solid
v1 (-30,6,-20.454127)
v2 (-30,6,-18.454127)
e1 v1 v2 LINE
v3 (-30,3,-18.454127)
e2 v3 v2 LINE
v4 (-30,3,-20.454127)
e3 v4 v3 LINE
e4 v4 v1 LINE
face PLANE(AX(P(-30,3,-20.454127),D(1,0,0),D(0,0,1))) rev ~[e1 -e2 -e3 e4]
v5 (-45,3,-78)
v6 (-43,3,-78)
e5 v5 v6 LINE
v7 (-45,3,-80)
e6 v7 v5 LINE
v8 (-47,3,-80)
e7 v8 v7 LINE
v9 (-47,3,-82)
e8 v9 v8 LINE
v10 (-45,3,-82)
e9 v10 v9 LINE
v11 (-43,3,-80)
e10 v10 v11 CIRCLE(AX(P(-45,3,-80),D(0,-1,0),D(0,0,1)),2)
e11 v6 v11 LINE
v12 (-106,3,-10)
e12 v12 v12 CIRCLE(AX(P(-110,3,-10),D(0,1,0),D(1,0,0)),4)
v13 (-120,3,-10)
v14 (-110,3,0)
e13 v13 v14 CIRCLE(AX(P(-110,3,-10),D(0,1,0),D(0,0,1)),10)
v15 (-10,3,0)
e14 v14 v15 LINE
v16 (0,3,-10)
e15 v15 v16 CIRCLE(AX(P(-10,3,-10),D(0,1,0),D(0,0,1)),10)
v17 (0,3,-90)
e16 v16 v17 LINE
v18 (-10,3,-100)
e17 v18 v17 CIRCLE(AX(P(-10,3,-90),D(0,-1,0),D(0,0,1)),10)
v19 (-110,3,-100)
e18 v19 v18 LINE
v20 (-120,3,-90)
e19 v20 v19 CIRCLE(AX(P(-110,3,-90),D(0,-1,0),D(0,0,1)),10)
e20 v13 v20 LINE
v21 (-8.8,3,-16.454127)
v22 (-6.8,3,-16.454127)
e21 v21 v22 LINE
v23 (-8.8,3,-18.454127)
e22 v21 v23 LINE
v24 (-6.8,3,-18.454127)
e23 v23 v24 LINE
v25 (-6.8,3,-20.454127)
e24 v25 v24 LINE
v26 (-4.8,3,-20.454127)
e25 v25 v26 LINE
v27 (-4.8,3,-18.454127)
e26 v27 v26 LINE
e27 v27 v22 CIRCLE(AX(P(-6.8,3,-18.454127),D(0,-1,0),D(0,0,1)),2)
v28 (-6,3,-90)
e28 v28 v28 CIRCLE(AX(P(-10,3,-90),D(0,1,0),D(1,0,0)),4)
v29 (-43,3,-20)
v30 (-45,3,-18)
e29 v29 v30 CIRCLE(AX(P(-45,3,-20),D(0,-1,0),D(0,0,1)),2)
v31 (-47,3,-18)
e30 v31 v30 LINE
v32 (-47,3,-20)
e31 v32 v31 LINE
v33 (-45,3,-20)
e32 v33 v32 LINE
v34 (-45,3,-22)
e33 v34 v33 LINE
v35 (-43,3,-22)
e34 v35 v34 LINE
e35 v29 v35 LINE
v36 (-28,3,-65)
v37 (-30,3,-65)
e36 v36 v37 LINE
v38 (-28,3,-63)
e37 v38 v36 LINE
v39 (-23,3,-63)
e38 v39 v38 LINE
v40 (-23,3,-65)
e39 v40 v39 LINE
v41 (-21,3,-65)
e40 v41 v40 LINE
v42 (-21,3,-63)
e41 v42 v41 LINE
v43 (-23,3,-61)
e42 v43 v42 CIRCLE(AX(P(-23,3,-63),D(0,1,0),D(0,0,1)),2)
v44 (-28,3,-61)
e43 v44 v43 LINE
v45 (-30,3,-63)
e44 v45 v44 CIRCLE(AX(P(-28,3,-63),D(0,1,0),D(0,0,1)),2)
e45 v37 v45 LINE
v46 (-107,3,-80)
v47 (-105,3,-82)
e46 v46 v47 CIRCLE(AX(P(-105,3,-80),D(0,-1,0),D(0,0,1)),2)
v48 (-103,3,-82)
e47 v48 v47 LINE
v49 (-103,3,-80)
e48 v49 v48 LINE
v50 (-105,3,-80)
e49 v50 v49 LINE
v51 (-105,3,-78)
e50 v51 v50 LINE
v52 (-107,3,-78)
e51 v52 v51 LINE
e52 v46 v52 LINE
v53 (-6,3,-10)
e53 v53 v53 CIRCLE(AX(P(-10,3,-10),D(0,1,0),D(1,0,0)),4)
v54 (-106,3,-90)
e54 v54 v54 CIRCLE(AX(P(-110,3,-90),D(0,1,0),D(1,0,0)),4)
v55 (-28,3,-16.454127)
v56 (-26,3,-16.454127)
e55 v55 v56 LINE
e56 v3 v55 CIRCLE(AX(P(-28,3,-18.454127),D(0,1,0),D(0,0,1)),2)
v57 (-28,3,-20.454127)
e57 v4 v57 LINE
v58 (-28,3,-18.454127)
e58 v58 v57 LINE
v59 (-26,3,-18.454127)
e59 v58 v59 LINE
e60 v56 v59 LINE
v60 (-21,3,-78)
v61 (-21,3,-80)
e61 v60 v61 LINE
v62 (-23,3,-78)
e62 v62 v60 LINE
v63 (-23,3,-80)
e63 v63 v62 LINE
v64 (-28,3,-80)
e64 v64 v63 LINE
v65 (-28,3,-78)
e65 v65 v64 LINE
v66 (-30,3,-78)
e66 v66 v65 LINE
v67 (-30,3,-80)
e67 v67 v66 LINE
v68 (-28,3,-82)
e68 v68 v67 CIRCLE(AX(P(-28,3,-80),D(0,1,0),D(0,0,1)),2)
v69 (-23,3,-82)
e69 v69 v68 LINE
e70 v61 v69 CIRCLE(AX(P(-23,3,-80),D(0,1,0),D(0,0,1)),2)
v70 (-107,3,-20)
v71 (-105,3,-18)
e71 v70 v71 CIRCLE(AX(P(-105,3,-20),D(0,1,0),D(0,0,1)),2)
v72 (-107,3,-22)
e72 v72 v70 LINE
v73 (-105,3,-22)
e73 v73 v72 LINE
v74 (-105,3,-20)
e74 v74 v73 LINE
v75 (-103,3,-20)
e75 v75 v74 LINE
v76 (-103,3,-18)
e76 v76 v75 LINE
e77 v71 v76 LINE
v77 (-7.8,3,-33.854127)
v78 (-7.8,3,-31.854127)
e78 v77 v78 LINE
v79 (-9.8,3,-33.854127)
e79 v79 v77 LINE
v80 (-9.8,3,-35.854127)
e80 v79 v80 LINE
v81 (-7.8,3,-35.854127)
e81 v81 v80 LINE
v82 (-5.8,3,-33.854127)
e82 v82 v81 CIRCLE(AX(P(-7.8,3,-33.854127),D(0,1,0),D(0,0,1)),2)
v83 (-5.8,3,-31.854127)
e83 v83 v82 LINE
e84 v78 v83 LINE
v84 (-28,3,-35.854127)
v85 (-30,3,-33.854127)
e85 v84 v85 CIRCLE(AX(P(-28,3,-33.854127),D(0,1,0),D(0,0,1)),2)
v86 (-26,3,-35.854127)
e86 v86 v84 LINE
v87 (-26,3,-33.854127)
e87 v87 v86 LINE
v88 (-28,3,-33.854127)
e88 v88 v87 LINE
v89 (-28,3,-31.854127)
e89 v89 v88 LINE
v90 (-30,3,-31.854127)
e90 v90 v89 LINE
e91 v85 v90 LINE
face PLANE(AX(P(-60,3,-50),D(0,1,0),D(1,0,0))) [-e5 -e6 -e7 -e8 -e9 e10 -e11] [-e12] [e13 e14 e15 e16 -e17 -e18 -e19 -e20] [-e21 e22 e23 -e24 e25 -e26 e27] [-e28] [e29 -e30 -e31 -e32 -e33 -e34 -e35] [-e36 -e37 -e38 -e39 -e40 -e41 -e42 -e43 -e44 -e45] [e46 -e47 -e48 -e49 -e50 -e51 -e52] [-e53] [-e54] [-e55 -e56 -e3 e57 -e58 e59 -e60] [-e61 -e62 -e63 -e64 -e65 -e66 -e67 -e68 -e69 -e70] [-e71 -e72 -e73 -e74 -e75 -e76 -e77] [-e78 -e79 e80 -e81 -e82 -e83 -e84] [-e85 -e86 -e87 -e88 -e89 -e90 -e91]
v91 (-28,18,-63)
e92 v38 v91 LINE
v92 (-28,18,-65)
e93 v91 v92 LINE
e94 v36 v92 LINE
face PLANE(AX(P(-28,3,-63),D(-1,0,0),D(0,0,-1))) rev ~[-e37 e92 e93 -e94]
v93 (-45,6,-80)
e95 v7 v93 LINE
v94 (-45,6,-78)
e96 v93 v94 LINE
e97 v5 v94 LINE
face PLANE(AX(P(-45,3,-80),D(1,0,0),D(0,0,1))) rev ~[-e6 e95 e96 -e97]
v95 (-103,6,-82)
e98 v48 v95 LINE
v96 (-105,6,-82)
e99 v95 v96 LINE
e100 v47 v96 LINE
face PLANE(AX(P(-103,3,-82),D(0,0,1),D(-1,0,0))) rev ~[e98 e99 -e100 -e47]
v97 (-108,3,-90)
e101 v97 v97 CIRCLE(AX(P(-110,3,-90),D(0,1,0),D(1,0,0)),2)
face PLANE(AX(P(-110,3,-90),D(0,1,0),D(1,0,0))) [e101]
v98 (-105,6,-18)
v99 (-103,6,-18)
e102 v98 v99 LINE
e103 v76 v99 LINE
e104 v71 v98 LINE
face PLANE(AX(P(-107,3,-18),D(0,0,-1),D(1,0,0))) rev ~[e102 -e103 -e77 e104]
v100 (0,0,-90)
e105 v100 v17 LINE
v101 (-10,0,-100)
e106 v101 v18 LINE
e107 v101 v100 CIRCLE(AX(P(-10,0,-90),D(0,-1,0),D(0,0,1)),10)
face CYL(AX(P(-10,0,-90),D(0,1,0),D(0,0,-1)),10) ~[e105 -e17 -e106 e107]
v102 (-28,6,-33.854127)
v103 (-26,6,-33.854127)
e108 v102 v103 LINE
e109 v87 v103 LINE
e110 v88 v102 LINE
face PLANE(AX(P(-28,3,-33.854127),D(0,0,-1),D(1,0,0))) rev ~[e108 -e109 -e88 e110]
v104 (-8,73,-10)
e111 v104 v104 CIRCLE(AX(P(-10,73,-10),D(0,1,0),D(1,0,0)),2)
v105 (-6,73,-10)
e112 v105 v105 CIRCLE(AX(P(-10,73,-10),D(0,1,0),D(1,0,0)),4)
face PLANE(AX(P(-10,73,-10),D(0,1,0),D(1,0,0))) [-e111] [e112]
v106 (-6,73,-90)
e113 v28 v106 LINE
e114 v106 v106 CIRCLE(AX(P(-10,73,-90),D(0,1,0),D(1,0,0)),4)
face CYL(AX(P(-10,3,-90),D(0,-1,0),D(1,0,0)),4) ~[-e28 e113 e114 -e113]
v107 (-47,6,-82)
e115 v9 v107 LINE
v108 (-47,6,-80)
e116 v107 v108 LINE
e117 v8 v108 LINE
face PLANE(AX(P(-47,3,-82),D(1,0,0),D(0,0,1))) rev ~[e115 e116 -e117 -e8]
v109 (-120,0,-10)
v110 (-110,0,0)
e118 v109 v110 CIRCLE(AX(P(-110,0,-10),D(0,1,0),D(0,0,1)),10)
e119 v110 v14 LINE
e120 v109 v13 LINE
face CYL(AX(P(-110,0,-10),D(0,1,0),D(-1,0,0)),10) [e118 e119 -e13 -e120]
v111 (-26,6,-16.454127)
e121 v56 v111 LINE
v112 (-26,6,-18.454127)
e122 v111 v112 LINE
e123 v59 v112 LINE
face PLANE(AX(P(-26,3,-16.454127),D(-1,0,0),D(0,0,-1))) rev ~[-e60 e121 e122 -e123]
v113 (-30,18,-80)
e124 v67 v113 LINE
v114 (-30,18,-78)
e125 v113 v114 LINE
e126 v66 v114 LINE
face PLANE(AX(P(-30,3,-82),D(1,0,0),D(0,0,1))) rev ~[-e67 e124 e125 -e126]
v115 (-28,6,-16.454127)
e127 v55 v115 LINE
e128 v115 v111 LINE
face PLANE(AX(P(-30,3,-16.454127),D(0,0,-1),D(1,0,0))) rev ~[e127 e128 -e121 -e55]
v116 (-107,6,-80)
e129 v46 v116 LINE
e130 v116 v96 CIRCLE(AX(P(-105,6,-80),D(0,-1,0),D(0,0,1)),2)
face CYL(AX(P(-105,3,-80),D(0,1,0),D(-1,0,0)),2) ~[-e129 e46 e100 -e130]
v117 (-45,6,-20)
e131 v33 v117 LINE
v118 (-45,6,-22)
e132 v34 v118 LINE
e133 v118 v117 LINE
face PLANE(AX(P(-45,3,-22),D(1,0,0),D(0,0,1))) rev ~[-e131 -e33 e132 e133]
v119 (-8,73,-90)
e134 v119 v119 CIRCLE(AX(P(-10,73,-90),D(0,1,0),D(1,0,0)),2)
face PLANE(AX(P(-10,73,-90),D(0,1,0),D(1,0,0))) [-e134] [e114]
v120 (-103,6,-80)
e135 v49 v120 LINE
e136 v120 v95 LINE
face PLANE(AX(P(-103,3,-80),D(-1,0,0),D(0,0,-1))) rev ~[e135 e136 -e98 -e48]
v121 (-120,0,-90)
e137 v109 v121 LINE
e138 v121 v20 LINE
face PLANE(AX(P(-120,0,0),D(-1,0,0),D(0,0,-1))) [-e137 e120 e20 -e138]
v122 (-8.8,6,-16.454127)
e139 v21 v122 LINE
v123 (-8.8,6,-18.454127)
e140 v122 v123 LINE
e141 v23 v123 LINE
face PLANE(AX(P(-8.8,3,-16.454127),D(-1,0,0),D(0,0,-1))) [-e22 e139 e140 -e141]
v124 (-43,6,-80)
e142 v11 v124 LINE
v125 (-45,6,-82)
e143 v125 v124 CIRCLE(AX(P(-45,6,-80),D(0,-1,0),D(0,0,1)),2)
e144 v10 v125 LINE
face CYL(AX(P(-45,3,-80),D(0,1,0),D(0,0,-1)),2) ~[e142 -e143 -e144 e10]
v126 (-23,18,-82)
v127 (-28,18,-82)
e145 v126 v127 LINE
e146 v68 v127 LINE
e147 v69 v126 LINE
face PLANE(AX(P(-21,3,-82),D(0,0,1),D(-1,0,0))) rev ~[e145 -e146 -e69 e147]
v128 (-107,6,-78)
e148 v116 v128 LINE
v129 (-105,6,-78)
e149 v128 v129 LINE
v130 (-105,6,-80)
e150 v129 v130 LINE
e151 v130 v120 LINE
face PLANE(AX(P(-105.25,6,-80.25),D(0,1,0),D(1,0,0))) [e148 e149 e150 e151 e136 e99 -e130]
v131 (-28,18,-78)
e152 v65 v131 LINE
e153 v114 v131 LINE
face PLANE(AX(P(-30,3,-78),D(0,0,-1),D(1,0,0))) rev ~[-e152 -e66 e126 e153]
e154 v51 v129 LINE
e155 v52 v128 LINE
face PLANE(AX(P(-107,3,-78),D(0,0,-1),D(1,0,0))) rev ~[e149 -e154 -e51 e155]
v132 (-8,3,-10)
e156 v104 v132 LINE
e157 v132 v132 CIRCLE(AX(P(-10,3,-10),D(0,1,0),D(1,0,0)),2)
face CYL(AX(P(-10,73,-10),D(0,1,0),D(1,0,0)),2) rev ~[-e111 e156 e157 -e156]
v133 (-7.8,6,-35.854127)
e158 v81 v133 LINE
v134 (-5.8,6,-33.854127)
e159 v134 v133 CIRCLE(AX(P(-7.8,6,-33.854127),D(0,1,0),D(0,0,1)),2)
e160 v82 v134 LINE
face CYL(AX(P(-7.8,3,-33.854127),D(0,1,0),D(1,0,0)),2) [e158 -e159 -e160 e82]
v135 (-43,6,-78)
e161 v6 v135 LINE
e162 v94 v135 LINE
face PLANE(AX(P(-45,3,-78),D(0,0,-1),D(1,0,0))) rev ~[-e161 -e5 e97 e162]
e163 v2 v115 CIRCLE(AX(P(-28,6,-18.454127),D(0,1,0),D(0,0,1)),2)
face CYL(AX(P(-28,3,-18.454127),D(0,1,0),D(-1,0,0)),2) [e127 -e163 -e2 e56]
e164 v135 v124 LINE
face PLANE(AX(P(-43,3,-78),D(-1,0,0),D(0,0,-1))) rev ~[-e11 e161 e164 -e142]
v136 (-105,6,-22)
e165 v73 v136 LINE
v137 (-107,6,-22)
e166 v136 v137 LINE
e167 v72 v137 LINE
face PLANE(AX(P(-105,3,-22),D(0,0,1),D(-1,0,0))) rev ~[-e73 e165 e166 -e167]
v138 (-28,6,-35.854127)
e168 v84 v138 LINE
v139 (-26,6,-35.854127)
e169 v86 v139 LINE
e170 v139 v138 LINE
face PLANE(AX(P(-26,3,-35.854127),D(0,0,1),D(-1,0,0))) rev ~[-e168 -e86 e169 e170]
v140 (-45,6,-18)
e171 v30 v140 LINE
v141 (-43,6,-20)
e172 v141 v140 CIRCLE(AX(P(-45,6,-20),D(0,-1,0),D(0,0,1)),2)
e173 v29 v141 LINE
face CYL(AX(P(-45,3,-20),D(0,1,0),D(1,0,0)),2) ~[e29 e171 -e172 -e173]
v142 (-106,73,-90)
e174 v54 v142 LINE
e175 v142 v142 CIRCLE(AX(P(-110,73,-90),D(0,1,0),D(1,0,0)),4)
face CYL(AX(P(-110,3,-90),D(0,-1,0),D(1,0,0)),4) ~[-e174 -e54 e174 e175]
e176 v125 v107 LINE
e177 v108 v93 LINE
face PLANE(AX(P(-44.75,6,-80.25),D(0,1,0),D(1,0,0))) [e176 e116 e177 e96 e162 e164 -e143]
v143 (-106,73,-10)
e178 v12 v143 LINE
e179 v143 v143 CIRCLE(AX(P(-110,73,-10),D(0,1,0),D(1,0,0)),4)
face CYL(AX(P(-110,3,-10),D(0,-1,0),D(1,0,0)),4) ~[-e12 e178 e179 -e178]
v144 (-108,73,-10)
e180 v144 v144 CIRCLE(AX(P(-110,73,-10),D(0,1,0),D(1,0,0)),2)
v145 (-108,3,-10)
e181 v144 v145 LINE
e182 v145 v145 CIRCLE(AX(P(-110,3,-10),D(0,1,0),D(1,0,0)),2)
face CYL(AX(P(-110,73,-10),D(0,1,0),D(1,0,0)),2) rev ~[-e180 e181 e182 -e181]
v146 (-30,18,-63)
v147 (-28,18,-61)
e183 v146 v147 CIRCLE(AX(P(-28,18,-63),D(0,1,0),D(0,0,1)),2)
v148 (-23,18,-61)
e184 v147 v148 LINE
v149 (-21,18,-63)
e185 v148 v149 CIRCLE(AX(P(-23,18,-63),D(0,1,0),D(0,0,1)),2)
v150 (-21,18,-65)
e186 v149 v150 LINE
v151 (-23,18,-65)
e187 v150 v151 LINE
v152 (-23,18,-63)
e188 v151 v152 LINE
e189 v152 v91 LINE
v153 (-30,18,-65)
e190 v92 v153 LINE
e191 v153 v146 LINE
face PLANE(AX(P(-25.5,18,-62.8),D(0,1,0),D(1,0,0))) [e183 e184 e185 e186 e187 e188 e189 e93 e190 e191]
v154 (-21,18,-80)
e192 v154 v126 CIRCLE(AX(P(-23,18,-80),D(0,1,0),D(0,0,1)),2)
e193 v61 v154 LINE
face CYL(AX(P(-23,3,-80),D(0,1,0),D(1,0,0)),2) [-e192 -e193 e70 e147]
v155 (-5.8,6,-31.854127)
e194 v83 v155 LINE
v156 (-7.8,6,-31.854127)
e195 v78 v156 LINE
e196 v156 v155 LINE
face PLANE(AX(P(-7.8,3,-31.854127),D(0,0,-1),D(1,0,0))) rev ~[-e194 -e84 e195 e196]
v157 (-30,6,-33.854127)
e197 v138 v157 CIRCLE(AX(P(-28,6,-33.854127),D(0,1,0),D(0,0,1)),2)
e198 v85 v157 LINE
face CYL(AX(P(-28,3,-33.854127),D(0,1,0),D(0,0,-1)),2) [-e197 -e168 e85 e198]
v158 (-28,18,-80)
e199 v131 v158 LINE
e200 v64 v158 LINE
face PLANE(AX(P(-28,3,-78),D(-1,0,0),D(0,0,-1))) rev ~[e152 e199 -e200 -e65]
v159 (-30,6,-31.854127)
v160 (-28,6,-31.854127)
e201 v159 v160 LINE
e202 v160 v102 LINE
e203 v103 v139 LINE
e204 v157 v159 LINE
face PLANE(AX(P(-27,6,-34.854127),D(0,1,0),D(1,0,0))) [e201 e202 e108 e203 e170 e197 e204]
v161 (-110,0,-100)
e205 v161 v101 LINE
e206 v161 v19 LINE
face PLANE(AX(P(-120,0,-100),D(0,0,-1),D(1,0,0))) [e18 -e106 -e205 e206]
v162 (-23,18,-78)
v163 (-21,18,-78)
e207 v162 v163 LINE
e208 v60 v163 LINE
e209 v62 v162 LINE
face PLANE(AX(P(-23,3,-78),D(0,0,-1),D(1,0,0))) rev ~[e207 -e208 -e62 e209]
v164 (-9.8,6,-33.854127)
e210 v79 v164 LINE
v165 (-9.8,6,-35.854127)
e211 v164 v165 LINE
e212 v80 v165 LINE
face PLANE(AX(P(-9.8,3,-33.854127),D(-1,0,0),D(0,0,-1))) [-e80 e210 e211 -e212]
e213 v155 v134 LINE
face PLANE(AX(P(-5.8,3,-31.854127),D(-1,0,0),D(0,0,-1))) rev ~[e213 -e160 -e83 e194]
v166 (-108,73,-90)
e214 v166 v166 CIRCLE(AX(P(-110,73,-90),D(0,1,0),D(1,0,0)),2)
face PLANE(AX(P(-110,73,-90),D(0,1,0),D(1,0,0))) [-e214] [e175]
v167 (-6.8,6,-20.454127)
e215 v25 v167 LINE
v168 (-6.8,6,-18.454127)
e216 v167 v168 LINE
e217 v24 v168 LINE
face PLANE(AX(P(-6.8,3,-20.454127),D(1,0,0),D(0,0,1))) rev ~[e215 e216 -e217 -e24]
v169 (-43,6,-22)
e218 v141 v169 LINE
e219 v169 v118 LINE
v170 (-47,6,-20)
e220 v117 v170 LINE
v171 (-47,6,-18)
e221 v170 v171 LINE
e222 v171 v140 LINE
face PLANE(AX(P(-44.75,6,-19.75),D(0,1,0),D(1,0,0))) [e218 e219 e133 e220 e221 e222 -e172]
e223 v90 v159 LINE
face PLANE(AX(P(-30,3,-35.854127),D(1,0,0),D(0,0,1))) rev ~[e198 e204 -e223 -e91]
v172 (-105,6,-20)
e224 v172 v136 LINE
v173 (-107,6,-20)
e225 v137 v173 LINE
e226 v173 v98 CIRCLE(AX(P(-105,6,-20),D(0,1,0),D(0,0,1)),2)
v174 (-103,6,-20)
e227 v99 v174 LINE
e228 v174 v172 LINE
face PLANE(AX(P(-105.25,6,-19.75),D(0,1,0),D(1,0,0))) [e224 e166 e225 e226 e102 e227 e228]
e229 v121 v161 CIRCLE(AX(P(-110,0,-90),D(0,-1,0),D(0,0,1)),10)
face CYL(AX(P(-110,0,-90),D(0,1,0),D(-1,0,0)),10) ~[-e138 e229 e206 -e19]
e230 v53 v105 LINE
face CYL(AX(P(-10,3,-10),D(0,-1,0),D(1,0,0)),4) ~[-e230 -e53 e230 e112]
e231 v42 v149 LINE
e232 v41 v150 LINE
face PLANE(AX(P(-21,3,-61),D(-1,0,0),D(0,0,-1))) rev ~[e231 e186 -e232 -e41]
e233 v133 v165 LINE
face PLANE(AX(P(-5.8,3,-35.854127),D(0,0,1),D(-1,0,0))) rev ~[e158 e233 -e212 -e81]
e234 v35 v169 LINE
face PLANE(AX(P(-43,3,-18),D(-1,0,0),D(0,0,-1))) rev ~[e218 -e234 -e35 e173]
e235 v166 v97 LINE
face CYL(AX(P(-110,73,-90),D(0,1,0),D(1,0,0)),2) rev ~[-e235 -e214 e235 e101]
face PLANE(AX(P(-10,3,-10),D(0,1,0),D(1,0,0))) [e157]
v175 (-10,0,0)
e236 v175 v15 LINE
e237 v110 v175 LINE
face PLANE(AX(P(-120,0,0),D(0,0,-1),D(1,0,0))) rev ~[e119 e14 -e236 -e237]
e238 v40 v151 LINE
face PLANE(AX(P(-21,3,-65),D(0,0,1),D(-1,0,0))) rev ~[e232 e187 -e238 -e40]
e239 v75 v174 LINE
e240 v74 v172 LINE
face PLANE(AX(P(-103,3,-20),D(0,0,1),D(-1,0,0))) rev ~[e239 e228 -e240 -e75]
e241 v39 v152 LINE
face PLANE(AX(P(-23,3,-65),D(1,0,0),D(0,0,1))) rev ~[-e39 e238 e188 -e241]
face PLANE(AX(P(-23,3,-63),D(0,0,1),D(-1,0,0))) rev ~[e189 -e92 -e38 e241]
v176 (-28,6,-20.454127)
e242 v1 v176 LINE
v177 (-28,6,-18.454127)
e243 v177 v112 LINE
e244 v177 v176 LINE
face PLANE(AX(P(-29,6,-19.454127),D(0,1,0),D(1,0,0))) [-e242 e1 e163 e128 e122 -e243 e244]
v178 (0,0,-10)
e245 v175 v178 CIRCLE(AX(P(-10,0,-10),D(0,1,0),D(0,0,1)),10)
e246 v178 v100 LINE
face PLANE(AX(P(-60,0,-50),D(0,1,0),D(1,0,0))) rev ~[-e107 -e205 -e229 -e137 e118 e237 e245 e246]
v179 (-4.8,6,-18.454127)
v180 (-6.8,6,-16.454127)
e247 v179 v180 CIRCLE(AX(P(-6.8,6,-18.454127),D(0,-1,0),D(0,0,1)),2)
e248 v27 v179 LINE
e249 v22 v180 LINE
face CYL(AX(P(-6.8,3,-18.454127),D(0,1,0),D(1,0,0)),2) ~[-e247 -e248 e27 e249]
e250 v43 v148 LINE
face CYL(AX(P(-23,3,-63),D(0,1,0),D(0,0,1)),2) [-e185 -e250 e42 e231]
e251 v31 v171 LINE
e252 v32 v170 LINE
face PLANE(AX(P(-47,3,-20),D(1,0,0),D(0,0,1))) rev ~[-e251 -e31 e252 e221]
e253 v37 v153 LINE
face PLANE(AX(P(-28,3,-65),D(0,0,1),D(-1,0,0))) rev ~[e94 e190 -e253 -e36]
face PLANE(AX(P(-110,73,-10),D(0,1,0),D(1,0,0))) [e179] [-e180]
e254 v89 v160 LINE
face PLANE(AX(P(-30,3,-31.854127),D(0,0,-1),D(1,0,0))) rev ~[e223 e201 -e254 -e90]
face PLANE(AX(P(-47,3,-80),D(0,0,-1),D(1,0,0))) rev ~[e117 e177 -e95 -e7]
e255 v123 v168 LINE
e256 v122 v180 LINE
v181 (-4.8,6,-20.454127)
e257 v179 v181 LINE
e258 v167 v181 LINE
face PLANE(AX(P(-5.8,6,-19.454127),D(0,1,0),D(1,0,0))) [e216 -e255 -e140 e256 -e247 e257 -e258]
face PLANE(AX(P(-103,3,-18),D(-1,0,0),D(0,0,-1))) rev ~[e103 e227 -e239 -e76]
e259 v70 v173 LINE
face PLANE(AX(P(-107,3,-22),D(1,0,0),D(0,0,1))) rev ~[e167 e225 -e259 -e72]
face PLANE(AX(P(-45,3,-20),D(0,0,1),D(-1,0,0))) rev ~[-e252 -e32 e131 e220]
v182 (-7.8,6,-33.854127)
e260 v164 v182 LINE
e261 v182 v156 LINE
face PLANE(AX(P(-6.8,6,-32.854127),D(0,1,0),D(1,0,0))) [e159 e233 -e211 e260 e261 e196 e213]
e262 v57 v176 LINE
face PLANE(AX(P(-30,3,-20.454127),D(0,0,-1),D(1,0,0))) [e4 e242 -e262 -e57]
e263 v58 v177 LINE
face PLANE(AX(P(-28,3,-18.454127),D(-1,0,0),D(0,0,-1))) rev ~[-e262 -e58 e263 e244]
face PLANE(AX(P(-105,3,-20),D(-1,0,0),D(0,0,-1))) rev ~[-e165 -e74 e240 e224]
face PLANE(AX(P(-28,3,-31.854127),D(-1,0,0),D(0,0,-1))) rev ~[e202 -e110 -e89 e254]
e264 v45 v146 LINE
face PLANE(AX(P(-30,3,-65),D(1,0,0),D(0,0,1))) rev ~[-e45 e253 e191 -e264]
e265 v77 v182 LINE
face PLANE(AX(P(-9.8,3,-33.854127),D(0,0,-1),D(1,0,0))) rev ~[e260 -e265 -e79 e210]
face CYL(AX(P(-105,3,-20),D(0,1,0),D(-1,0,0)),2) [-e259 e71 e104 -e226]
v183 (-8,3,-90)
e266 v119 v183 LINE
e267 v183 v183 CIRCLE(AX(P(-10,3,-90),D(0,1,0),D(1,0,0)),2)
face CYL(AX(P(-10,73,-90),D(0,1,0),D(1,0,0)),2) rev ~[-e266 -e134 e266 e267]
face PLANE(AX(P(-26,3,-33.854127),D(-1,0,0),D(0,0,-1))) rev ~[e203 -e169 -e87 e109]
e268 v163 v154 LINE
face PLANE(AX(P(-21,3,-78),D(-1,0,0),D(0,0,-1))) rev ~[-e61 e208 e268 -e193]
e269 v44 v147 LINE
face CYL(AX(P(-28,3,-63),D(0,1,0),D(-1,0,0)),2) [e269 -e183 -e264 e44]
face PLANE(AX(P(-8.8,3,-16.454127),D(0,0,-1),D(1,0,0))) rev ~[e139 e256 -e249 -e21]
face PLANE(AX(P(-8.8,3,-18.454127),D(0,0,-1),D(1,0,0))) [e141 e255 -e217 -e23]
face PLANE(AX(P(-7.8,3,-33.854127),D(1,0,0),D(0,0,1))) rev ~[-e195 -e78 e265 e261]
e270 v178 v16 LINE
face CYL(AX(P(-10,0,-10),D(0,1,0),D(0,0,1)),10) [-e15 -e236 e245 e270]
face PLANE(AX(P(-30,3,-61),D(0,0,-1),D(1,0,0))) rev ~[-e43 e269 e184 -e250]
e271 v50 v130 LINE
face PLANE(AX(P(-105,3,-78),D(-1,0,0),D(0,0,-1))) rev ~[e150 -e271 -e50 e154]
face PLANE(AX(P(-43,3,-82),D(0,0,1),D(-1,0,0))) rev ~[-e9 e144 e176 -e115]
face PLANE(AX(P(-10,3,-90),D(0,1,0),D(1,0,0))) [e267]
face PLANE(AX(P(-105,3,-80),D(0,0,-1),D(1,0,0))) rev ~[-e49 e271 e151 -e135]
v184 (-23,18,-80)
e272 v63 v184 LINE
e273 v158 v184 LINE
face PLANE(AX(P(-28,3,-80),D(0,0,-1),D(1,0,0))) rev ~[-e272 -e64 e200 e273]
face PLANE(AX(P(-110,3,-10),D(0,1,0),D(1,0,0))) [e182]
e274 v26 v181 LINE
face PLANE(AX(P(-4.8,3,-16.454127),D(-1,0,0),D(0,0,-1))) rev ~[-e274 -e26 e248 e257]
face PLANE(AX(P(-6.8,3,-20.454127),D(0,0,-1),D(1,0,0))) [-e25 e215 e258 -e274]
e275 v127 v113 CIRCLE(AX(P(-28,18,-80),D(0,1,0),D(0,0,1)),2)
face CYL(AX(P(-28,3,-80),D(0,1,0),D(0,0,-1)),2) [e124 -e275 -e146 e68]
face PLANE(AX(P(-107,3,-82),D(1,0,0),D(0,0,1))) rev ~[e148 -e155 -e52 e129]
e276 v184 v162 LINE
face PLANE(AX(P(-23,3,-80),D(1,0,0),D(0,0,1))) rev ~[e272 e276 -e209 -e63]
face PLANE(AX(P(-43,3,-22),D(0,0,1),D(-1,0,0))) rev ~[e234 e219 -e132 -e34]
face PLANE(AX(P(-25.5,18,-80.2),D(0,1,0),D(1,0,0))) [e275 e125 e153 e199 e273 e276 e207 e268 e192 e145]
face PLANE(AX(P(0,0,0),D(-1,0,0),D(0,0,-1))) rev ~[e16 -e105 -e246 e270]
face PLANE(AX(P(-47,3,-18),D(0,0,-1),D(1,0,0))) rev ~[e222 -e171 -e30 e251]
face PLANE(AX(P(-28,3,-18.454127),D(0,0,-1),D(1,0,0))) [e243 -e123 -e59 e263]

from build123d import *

# Parameters (mm, degrees)
ESQUISSE1_W             = 120
ESQUISSE1_H             = 100
BOSS_EXTRU_1_DEPTH      = 3
ESQUISSE2_W             = 2
ESQUISSE2_H             = 2
BOSS_EXTRU_2_DEPTH      = 3
ESQUISSE4_R             = 4
BOSS_EXTRU_4_DEPTH      = 70
ESQUISSE5_R             = 2
ENL_V_MAT_EXTRU_1_DEPTH = 70
CONG_1_R                = 10
BOSS_EXTRU_6_DEPTH      = 15
CONG_2_R                = 2


with BuildPart() as part:
    # Esquisse1 → Boss.-Extru.1 (new body)
    with BuildSketch(Plane(origin=(0, 0, 0), x_dir=(1, 0, 0), z_dir=(0, 1, 0))):
        with Locations((-60, 50)):
            Rectangle(ESQUISSE1_W, ESQUISSE1_H)
    extrude(amount=BOSS_EXTRU_1_DEPTH)

    # Esquisse2 → Boss.-Extru.2 (add)
    with BuildSketch(Plane(origin=(0, 3, 0), x_dir=(1, 0, 0), z_dir=(0, 1, 0))):
        Polygon((-105, 78), (-105, 80), (-103, 80), (-103, 82), (-107, 82), (-107, 78), align=None)
        Polygon((-105, 20), (-105, 22), (-107, 22), (-107, 18), (-103, 18), (-103, 20), align=None)
        Polygon((-43, 22), (-45, 22), (-45, 20), (-47, 20), (-47, 18), (-43, 18), align=None)
        Polygon((-47, 82), (-47, 80), (-45, 80), (-45, 78), (-43, 78), (-43, 82), align=None)
        with Locations((-6.8, 32.854127418)):
            Rectangle(ESQUISSE2_W, ESQUISSE2_H)
        with Locations((-6.8, 34.854127418)):
            Rectangle(ESQUISSE2_W, ESQUISSE2_H)
        with Locations((-8.8, 34.854127418)):
            Rectangle(ESQUISSE2_W, ESQUISSE2_H)
        with Locations((-27, 34.854127418)):
            Rectangle(ESQUISSE2_W, ESQUISSE2_H)
        with Locations((-29, 34.854127418)):
            Rectangle(ESQUISSE2_W, ESQUISSE2_H)
        with Locations((-29, 32.854127418)):
            Rectangle(ESQUISSE2_W, ESQUISSE2_H)
        with Locations((-29, 19.454127418)):
            Rectangle(ESQUISSE2_W, ESQUISSE2_H)
        with Locations((-29, 17.454127418)):
            Rectangle(ESQUISSE2_W, ESQUISSE2_H)
        with Locations((-27, 17.454127418)):
            Rectangle(ESQUISSE2_W, ESQUISSE2_H)
        with Locations((-5.8, 19.454127418)):
            Rectangle(ESQUISSE2_W, ESQUISSE2_H)
        with Locations((-5.8, 17.454127418)):
            Rectangle(ESQUISSE2_W, ESQUISSE2_H)
        with Locations((-7.8, 17.454127418)):
            Rectangle(ESQUISSE2_W, ESQUISSE2_H)
    extrude(amount=BOSS_EXTRU_2_DEPTH)

    # Esquisse4 → Boss.-Extru.4 (add)
    with BuildSketch(Plane(origin=(0, 3, 0), x_dir=(1, 0, 0), z_dir=(0, 1, 0))):
        with Locations((-10, 90)):
            Circle(ESQUISSE4_R)
        with Locations((-110, 90)):
            Circle(ESQUISSE4_R)
        with Locations((-110, 10)):
            Circle(ESQUISSE4_R)
        with Locations((-10, 10)):
            Circle(ESQUISSE4_R)
    extrude(amount=BOSS_EXTRU_4_DEPTH)

    # Esquisse5 → Enlèv. mat.-Extru.1 (cut)
    with BuildSketch(Plane(origin=(0, 73, 0), x_dir=(1, 0, 0), z_dir=(0, 1, 0))):
        with Locations((-110, 90)):
            Circle(ESQUISSE5_R)
        with Locations((-110, 10)):
            Circle(ESQUISSE5_R)
        with Locations((-10, 90)):
            Circle(ESQUISSE5_R)
        with Locations((-10, 10)):
            Circle(ESQUISSE5_R)
    extrude(amount=-ENL_V_MAT_EXTRU_1_DEPTH, mode=Mode.SUBTRACT)

    # Congé1
    cong_1_edges = [part.edges().sort_by_distance(p)[0] for p in [
        (0, 1.5, 0),
        (-120, 1.5, 0),
        (-120, 1.5, -100),
        (0, 1.5, -100),
    ]]
    fillet(cong_1_edges, radius=CONG_1_R)

    # Esquisse3 → Boss.-Extru.6 (add)
    with BuildSketch(Plane(origin=(0, 3, 0), x_dir=(1, 0, 0), z_dir=(0, 1, 0))):
        Polygon((-30, 78), (-28, 78), (-28, 80), (-23, 80), (-23, 78), (-21, 78), (-21, 82), (-28.2, 82), (-29.2, 82), (-30, 82), align=None)
        Polygon((-23, 63), (-28, 63), (-28, 65), (-30, 65), (-30, 61), (-26, 61), (-21, 61), (-21, 65), (-23, 65), align=None)
    extrude(amount=BOSS_EXTRU_6_DEPTH)

    # Congé2
    cong_2_edges = [part.edges().sort_by_distance(p)[0] for p in [
        (-30, 4.5, -16.454127418),
        (-4.8, 4.5, -16.454127418),
        (-107, 4.5, -82),
        (-21, 10.5, -82),
        (-30, 10.5, -82),
        (-30, 10.5, -61),
        (-21, 10.5, -61),
        (-107, 4.5, -18),
        (-43, 4.5, -18),
        (-43, 4.5, -82),
        (-5.8, 4.5, -35.854127418),
        (-30, 4.5, -35.854127418),
    ]]
    fillet(cong_2_edges, radius=CONG_2_R)


solid = part.part
